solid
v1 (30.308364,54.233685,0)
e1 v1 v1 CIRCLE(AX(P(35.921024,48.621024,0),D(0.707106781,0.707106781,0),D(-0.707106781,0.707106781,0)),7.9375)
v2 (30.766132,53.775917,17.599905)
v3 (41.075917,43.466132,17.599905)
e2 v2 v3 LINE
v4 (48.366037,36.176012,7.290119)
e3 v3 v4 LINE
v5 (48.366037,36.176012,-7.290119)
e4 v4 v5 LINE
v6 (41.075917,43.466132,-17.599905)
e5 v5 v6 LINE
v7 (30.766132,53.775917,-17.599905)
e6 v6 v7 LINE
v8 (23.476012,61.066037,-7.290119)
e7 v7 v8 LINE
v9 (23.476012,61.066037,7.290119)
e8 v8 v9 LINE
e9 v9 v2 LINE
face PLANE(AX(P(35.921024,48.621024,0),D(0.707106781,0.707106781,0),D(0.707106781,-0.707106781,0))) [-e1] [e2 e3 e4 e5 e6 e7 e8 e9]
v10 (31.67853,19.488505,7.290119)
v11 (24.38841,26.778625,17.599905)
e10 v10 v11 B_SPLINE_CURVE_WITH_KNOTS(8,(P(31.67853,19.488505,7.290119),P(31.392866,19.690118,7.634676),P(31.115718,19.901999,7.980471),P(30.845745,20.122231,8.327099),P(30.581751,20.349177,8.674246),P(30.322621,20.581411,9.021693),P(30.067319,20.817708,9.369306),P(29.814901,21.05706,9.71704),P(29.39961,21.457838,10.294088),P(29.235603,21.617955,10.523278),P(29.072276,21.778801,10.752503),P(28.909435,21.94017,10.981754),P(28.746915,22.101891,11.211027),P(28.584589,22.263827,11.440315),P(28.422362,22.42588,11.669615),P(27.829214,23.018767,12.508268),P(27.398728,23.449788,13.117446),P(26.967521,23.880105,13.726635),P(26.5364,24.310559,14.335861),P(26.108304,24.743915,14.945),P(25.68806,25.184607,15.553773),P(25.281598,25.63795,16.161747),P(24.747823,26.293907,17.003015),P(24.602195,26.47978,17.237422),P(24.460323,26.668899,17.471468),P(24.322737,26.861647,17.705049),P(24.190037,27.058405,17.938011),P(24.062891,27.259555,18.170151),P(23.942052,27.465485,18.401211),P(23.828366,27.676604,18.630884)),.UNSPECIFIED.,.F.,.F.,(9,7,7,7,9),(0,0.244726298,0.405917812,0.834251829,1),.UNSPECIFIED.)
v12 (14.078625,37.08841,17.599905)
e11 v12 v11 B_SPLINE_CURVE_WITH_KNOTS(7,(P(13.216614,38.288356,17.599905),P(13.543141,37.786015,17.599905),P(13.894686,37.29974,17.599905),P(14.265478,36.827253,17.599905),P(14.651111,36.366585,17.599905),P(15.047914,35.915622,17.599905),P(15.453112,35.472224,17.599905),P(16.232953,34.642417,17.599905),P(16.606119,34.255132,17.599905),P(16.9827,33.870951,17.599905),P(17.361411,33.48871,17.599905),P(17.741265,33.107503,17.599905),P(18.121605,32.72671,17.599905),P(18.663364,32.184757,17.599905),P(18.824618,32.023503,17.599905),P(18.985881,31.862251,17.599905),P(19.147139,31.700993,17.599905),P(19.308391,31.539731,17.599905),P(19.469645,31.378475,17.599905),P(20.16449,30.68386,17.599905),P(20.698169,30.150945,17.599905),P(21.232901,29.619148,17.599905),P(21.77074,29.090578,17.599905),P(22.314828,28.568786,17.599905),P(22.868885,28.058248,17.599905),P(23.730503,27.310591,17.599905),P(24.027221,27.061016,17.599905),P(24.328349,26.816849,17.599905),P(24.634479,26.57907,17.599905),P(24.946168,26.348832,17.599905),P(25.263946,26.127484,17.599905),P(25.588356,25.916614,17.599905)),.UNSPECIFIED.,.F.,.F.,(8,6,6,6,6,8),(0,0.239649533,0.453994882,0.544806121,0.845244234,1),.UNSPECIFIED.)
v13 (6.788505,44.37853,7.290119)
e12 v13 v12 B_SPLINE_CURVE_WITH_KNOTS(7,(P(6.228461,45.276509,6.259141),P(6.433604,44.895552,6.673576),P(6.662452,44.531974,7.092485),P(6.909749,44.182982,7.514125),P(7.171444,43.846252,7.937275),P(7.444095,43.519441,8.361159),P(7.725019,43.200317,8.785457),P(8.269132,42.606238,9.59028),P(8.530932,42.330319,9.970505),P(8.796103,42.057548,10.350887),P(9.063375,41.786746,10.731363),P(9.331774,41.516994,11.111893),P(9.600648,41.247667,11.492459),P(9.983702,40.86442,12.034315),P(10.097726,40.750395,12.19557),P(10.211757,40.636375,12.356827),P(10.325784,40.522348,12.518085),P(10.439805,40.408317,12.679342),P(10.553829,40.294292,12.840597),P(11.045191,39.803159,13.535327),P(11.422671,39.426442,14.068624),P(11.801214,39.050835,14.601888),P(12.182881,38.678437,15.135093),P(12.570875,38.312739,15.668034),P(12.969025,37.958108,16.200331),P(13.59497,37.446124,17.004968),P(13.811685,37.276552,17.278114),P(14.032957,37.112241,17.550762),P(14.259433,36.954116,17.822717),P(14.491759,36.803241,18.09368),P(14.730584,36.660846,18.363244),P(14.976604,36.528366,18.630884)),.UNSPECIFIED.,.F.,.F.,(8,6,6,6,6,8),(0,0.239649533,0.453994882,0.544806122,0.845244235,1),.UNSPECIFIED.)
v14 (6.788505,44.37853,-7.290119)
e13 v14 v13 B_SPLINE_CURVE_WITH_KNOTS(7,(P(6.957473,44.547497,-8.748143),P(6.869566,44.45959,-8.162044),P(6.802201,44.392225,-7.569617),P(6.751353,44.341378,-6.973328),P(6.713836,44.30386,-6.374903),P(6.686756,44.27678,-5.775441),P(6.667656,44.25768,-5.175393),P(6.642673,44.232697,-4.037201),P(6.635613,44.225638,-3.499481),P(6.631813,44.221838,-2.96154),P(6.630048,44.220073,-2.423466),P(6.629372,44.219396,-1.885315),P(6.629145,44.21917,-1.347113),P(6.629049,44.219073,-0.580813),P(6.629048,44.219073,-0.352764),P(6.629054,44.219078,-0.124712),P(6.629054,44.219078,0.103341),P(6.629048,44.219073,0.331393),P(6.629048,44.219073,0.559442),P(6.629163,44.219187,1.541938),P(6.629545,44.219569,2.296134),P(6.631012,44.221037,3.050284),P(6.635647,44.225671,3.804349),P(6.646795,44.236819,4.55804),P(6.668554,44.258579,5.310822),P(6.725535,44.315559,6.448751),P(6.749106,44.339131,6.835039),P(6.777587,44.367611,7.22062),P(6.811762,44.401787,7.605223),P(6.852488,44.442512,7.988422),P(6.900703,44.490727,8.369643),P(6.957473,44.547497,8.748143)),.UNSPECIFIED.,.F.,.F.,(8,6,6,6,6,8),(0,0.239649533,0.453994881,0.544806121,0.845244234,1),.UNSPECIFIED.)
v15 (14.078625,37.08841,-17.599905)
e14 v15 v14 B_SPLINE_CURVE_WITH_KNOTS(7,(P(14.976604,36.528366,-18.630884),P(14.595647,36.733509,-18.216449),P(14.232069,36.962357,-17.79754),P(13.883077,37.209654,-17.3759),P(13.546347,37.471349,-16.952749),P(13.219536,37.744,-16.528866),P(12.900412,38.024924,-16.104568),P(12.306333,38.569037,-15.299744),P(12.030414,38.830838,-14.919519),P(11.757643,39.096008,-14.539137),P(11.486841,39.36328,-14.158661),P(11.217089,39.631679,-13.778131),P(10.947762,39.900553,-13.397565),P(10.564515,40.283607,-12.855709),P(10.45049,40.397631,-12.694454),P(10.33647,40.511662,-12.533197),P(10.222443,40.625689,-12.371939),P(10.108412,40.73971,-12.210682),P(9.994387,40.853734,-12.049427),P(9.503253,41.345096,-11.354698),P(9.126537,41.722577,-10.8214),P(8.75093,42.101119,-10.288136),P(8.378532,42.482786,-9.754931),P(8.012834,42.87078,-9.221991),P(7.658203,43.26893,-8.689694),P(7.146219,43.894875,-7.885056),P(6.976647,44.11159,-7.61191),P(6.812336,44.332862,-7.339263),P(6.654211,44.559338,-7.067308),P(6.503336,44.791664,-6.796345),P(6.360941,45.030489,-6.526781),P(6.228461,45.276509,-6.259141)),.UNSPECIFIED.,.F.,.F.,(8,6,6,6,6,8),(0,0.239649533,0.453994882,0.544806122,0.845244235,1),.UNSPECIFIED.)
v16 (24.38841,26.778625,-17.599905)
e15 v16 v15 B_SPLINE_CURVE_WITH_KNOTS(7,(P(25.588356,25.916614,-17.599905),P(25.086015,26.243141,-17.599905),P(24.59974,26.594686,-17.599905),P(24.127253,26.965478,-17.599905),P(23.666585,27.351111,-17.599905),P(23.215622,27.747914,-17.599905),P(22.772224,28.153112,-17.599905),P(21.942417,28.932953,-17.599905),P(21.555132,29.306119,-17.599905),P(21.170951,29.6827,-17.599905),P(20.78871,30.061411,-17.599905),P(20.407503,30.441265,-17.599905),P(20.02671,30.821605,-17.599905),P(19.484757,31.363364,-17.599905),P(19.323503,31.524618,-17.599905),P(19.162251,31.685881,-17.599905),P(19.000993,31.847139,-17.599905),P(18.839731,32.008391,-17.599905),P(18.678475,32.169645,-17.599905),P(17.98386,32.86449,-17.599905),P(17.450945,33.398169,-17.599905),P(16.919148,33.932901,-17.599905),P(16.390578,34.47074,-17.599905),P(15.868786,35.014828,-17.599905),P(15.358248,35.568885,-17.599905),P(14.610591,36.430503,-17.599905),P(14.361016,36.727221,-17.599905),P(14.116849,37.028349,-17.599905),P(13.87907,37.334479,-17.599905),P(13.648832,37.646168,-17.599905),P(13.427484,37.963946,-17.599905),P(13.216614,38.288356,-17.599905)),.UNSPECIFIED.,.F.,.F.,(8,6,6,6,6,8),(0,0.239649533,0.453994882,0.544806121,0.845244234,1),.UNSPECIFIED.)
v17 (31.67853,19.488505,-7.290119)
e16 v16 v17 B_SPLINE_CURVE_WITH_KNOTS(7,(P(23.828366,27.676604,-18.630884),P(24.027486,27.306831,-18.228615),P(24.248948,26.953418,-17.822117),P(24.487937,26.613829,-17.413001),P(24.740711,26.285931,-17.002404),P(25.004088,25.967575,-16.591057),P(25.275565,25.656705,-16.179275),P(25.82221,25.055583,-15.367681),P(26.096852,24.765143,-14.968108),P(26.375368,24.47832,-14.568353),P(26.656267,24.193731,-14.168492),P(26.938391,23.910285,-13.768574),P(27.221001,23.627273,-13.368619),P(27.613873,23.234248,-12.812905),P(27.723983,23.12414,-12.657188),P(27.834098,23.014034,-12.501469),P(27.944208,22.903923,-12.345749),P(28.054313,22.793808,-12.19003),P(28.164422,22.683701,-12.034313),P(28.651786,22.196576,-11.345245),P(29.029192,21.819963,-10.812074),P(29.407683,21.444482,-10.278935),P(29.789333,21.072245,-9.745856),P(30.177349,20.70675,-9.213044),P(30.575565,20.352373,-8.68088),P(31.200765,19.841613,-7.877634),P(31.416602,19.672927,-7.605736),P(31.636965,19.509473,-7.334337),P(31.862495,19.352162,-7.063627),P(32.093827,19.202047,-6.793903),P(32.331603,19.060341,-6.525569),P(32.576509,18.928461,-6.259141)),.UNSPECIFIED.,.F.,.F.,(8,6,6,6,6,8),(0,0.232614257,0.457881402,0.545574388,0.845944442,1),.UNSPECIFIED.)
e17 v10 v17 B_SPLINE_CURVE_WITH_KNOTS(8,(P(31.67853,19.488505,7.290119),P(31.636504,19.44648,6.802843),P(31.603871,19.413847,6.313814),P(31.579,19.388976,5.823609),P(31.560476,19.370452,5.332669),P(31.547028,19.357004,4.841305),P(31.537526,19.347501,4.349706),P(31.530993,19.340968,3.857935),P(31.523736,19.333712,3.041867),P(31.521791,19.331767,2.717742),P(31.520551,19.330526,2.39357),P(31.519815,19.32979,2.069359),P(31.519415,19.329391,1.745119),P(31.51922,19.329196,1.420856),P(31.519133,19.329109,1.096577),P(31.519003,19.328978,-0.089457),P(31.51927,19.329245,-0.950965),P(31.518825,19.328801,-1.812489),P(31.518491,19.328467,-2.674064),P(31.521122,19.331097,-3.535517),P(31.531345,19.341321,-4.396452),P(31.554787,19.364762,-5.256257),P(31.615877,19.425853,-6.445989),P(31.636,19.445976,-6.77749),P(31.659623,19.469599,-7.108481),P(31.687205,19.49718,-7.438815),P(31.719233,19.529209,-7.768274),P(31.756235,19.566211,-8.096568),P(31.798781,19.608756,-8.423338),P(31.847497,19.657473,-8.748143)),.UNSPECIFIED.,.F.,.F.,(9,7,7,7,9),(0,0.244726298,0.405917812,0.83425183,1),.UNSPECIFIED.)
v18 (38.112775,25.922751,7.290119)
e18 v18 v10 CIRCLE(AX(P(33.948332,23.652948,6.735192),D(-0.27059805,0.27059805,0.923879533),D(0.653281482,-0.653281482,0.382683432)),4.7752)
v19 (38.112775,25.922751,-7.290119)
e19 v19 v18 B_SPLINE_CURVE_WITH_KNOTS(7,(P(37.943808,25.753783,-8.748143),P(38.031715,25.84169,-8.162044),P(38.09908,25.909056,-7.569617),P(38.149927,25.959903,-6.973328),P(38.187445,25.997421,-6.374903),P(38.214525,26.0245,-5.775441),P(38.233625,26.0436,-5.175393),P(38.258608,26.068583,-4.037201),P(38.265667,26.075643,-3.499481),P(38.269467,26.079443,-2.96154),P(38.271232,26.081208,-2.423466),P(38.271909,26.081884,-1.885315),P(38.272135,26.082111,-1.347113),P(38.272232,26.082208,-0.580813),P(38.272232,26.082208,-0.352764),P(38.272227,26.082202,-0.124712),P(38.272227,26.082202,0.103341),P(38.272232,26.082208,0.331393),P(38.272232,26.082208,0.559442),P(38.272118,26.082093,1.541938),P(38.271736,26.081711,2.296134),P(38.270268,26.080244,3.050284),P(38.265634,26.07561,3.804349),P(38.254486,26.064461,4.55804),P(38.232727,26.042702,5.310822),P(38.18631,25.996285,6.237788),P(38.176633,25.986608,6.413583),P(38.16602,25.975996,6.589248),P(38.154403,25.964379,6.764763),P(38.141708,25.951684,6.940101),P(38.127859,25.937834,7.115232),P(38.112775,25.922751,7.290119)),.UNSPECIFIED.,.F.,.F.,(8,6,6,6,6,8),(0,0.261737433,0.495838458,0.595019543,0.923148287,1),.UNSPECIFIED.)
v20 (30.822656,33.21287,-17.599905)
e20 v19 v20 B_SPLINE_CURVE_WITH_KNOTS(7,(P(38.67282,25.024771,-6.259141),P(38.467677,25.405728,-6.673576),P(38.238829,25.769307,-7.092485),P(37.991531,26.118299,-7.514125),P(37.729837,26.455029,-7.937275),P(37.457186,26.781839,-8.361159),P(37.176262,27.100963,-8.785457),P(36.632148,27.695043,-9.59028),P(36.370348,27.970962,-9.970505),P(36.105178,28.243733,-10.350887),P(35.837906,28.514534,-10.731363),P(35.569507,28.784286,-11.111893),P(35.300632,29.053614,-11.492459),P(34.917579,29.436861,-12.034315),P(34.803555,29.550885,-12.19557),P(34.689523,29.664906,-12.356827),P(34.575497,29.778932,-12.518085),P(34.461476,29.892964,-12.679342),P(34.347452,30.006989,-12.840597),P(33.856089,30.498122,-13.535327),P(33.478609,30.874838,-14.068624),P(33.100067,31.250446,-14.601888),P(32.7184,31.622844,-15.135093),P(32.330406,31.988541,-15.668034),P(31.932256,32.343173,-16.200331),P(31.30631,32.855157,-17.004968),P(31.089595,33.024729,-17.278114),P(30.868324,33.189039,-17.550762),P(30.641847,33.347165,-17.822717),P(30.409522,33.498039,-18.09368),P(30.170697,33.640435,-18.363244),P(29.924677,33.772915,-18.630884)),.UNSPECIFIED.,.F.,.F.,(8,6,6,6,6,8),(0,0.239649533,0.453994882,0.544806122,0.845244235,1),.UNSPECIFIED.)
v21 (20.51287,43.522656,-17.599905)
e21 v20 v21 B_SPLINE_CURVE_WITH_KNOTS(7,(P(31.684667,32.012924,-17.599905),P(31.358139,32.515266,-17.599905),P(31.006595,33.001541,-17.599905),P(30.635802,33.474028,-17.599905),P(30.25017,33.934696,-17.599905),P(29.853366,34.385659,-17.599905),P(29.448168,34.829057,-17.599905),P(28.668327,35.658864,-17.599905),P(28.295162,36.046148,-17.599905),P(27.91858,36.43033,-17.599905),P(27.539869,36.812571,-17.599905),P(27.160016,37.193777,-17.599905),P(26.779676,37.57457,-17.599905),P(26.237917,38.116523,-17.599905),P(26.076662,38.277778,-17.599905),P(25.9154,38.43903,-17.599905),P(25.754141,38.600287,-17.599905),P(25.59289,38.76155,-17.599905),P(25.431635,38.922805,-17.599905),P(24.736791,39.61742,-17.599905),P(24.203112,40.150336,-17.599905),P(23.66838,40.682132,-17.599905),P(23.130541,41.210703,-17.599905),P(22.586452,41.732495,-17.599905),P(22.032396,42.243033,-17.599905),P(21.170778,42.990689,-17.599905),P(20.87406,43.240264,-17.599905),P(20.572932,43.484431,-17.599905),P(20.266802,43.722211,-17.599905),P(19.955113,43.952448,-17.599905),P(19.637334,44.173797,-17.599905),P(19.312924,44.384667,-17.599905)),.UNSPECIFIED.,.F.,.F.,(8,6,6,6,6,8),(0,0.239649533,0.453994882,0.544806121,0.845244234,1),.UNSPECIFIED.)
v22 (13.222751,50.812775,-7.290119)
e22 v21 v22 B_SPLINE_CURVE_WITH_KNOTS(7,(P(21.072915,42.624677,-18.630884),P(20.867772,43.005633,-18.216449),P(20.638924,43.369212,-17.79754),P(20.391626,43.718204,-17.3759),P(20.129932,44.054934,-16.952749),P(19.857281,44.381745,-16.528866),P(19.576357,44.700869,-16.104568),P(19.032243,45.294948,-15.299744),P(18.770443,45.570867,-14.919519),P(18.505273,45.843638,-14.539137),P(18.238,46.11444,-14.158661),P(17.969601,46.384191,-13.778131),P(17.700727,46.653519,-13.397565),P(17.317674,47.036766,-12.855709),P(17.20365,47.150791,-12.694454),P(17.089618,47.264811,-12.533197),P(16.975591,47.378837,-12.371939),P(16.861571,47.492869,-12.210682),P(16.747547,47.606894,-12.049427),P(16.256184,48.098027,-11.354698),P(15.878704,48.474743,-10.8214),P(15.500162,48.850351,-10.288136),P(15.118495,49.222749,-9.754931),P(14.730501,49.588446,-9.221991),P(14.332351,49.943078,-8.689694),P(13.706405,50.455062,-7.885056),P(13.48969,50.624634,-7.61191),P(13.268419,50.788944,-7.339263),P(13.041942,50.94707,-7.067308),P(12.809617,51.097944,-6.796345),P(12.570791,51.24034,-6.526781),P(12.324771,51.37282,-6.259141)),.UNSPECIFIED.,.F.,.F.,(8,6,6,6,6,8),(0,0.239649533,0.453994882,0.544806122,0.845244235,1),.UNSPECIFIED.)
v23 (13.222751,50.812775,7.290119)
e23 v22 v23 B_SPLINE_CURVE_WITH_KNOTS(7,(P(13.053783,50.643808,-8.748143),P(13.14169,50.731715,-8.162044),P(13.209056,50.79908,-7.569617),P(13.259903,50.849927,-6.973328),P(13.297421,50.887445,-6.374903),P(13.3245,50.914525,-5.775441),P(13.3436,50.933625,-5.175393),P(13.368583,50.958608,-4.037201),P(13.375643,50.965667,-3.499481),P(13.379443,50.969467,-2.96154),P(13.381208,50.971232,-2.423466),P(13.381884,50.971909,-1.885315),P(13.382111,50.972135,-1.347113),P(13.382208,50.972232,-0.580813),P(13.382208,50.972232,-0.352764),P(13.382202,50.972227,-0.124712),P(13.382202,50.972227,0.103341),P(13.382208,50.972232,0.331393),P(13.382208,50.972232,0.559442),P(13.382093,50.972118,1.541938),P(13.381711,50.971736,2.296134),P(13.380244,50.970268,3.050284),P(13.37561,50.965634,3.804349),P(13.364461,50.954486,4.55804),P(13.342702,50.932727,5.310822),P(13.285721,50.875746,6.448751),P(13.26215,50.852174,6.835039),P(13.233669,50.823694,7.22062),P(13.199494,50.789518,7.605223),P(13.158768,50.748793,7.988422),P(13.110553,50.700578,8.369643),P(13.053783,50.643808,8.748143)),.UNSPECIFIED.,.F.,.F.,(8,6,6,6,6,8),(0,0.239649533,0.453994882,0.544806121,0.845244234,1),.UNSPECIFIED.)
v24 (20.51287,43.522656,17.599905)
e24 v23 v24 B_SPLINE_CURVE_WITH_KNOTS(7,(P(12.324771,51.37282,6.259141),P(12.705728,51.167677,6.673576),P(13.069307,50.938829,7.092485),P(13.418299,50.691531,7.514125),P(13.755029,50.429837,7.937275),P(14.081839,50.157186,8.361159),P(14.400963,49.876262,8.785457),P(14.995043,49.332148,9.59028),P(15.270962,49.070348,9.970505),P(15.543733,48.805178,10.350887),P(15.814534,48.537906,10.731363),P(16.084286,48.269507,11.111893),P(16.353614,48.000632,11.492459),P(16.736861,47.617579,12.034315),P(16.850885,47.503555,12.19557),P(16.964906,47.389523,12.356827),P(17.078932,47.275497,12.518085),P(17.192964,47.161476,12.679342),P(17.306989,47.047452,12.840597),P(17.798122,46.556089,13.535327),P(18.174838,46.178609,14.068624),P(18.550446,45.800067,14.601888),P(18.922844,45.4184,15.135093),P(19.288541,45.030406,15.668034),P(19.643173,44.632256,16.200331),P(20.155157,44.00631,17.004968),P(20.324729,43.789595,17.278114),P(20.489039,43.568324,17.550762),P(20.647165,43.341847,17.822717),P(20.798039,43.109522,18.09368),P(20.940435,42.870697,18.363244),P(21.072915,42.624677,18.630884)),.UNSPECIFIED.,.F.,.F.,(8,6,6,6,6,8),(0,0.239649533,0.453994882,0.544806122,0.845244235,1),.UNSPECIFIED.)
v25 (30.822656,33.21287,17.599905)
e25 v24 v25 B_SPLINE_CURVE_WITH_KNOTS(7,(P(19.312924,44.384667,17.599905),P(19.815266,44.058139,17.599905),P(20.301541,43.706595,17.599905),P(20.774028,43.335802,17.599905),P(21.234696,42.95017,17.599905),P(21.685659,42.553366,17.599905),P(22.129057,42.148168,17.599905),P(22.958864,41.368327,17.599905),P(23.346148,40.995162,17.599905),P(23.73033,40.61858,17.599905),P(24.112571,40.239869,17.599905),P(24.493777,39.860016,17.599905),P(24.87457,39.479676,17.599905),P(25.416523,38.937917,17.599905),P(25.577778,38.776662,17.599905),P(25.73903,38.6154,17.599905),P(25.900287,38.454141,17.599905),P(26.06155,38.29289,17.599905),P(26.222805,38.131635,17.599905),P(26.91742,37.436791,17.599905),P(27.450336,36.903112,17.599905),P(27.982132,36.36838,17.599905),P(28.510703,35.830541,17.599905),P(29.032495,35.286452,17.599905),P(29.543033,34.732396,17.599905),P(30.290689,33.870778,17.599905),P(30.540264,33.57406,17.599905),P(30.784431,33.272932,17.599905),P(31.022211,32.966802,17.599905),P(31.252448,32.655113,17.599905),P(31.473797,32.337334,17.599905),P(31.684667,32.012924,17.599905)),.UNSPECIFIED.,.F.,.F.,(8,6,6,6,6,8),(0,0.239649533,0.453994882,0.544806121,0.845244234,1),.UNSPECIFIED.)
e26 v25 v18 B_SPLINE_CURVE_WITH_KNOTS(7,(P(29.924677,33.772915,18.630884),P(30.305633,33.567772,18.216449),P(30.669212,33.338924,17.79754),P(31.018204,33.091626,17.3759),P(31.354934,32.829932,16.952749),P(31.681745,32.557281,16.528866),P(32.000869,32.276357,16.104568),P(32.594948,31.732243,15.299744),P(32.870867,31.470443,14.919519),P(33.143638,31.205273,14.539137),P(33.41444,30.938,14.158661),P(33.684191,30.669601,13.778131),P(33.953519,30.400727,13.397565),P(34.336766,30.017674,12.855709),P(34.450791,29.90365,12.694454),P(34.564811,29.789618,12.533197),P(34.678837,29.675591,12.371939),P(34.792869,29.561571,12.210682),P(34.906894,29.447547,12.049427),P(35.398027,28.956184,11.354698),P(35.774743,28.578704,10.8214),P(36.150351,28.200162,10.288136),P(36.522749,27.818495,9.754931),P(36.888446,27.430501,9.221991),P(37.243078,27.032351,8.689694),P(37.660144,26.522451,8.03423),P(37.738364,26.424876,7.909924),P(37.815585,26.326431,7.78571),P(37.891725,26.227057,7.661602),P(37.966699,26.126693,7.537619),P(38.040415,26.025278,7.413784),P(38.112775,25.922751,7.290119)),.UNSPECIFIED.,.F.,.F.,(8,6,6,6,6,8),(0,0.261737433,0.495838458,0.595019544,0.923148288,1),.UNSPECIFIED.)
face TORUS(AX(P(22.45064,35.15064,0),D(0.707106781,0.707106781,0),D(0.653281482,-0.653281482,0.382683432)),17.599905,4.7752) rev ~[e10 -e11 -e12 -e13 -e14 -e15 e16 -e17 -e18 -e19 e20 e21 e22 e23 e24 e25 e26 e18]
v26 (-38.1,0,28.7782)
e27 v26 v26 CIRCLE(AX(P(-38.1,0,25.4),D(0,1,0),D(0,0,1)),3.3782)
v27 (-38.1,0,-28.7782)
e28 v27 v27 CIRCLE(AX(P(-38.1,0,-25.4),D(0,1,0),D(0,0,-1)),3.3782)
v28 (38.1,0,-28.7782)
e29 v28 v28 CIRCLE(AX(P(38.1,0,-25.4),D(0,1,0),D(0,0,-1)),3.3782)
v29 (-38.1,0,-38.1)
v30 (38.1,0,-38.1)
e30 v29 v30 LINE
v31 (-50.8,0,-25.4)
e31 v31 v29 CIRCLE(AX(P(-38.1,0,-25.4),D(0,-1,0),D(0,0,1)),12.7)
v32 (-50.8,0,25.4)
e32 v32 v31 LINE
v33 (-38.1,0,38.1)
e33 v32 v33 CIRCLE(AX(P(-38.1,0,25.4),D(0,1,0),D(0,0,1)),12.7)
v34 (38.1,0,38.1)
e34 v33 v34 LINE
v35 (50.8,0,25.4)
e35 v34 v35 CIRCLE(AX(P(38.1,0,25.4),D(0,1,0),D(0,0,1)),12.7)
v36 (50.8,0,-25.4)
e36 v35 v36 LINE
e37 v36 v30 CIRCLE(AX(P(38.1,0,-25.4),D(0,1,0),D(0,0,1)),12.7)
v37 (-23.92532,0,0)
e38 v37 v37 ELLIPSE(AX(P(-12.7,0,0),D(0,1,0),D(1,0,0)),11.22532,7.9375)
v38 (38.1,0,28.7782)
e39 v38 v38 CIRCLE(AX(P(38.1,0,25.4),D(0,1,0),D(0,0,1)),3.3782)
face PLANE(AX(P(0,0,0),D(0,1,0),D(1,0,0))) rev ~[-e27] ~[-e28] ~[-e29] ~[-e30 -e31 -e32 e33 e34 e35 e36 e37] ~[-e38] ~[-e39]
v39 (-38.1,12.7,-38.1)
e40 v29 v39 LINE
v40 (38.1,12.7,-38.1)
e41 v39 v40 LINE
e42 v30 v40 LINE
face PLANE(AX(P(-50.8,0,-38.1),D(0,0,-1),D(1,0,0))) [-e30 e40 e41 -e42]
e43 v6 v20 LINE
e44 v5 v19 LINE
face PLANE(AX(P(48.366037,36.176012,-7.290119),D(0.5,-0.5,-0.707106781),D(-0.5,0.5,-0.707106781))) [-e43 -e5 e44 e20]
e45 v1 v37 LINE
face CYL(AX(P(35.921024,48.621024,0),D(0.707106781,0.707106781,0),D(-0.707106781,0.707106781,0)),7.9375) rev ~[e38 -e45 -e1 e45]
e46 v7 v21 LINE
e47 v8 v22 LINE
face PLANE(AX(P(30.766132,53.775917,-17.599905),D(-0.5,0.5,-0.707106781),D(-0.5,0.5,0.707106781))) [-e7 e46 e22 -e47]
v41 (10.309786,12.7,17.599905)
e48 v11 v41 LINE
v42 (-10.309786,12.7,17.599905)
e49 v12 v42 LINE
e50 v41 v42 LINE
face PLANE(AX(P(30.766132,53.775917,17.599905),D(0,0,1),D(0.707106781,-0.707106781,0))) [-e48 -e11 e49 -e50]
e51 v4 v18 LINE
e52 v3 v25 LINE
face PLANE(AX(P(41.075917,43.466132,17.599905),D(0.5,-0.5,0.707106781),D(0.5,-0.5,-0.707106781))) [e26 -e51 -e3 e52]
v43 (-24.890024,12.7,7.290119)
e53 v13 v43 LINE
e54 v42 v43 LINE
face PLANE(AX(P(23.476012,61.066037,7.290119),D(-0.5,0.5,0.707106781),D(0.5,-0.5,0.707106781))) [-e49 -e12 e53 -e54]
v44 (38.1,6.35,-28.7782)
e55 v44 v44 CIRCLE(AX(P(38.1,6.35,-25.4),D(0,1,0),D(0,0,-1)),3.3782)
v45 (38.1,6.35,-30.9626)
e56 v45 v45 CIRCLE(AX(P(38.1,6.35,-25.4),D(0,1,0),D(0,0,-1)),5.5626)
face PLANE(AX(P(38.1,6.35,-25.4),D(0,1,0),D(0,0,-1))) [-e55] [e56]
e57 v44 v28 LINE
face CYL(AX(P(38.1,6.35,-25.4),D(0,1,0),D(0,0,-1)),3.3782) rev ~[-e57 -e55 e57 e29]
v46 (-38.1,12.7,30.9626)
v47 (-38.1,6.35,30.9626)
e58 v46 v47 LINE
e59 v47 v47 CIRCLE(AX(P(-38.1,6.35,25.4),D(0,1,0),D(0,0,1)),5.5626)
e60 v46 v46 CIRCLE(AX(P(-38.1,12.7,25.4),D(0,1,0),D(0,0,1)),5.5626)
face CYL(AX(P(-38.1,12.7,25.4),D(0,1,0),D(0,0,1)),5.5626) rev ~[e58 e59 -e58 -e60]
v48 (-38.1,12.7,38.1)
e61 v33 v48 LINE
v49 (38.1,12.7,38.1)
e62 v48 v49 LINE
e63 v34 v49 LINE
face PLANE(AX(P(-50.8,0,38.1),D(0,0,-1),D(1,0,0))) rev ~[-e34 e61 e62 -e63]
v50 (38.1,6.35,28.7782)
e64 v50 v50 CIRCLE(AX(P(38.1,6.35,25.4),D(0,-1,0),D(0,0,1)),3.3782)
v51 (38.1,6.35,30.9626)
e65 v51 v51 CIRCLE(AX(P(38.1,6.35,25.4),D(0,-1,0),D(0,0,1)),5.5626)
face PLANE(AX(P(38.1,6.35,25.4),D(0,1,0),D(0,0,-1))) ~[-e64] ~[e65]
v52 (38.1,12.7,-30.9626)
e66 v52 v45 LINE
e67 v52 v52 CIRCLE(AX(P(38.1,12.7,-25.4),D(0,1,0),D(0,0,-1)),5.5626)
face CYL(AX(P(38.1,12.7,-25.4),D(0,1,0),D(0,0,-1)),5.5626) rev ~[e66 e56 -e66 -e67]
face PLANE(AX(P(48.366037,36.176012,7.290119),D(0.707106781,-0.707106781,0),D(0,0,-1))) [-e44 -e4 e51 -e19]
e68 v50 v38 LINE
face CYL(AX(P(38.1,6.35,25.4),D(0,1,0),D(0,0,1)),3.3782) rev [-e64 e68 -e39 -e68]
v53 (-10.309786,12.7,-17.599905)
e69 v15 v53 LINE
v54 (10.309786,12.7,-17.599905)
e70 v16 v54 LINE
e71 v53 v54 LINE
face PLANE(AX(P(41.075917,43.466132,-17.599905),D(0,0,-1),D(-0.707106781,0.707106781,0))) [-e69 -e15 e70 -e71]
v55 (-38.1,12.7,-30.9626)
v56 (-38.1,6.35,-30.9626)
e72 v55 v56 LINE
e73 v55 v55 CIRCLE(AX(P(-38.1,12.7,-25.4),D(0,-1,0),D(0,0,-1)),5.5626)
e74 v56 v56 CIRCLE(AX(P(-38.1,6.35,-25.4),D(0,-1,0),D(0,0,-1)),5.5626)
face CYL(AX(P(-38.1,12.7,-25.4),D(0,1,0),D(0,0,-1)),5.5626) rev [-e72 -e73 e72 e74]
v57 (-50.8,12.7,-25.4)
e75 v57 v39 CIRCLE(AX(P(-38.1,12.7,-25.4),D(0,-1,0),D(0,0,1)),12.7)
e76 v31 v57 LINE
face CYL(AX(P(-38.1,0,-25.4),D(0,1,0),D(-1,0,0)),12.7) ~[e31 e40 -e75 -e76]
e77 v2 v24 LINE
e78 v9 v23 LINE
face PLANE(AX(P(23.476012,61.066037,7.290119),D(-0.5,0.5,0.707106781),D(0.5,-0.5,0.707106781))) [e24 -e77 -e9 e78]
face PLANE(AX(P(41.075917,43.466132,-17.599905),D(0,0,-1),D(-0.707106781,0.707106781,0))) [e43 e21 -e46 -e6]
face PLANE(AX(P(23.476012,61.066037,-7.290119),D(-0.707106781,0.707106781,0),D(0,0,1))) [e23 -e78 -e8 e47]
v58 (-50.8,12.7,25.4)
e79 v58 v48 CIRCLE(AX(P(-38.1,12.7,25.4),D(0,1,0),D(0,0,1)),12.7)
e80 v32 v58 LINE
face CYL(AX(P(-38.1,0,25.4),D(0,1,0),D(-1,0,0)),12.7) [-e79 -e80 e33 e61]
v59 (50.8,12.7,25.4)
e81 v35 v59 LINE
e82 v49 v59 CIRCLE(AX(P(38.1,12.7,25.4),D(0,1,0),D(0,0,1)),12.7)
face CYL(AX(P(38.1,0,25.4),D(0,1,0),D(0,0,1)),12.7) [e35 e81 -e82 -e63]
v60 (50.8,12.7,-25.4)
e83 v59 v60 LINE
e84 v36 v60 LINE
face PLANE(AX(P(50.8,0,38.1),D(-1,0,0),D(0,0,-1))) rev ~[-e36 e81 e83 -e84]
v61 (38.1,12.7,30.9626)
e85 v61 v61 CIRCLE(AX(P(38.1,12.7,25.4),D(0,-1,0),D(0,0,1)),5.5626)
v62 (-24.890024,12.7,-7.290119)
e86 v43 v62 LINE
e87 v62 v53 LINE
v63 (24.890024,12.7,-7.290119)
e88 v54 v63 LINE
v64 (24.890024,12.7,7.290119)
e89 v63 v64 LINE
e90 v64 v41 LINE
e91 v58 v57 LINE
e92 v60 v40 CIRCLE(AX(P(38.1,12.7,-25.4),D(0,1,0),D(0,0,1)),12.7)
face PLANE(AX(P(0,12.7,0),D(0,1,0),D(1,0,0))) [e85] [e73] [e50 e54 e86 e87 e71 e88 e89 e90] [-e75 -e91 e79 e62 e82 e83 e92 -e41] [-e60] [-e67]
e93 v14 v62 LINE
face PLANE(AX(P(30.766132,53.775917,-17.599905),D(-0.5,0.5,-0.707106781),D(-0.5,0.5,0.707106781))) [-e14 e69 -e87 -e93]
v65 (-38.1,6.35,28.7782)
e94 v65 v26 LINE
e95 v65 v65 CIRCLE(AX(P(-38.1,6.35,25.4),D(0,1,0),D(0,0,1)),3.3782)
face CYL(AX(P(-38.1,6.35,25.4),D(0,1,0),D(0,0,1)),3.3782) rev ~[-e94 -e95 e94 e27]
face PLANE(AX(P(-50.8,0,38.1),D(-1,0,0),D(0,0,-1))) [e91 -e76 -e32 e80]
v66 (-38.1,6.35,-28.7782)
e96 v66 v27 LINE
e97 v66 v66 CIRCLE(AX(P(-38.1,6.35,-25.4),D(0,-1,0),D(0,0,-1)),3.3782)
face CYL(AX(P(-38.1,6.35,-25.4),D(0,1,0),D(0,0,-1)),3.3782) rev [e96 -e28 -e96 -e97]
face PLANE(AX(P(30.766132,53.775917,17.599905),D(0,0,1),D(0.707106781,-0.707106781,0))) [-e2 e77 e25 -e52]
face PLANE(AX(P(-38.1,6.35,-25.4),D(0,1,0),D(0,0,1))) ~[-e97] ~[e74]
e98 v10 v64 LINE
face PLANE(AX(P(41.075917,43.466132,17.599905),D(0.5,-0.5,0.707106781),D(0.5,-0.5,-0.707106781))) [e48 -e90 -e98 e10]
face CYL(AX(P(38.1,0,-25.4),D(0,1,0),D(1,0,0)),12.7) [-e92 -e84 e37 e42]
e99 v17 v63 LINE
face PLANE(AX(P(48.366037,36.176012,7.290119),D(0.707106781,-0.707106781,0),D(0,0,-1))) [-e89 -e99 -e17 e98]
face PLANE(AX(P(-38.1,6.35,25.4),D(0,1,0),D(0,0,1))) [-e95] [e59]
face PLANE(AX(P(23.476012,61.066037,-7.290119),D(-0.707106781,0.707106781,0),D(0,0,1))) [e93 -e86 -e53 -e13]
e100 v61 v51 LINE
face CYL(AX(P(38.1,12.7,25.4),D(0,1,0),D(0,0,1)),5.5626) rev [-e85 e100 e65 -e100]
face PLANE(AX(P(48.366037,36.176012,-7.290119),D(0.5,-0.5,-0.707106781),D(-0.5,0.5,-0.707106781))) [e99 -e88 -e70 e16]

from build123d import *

# Parameters (mm, degrees)
BOTTOM_SKETCH_W                   = 101.6
BOTTOM_SKETCH_H                   = 76.2
BASE_EXTRUDE_DEPTH                = 12.7
CORNER_FILLETS_R                  = 12.7
TOP_CIRCULAR_SKETCH_R             = 5.5626
TOP_CIRCULAR_CUT_DEPTH            = 6.35
BOTTOM_CIRCULAR_SKETCH_R          = 3.3782
BOTTOM_CIRCULAR_CUT_DEPTH         = 64.816710194
HORIZONTAL_MIRROR_COPY_1_SKETCH_R = 5.5626
HORIZONTAL_MIRROR_COPY_1_DEPTH    = 6.35
HORIZONTAL_MIRROR_COPY_2_SKETCH_R = 3.3782
HORIZONTAL_MIRROR_COPY_2_DEPTH    = 64.816710194
OCTAGONAL_EXTRUDE_REACH           = 108.471
CENTER_SKETCH_R                   = 7.9375
CENTER_CUT_DEPTH                  = 110.090169628
RADIUS_SKETCH_R                   = 4.7752


with BuildPart() as part:
    # Bottom Sketch → Base Extrude (new body)
    with BuildSketch(Plane(origin=(0, 0, 0), x_dir=(1, 0, 0), z_dir=(0, 1, 0))):
        Rectangle(BOTTOM_SKETCH_W, BOTTOM_SKETCH_H)
    extrude(amount=BASE_EXTRUDE_DEPTH)

    # Corner Fillets
    corner_fillets_edges = [part.edges().sort_by_distance(p)[0] for p in [
        (-50.8, 6.35, -38.1),
        (50.8, 6.35, -38.1),
        (50.8, 6.35, 38.1),
        (-50.8, 6.35, 38.1),
    ]]
    fillet(corner_fillets_edges, radius=CORNER_FILLETS_R)

    # Top Circular Sketch → Top Circular Cut (cut)
    with BuildSketch(Plane(origin=(0, 12.7, 0), x_dir=(1, 0, 0), z_dir=(0, 1, 0))):
        with Locations(Location((-38.1, -25.4, 0), (0, 0, 270))):
            Circle(TOP_CIRCULAR_SKETCH_R)
    top_circular_cut = extrude(amount=-TOP_CIRCULAR_CUT_DEPTH, mode=Mode.SUBTRACT)

    # Bottom Circular Sketch → Bottom Circular Cut (cut, through all)
    with BuildSketch(Plane(origin=(0, 6.35, 0), x_dir=(1, 0, 0), z_dir=(0, 1, 0))):
        with Locations(Location((-38.1, -25.4, 0), (0, 0, 270))):
            Circle(BOTTOM_CIRCULAR_SKETCH_R)
    bottom_circular_cut = extrude(amount=-BOTTOM_CIRCULAR_CUT_DEPTH, mode=Mode.SUBTRACT)

    # Vertical Mirror: Top Circular Cut, Bottom Circular Cut across plane
    add(top_circular_cut.mirror(Plane.XY), mode=Mode.SUBTRACT)
    add(bottom_circular_cut.mirror(Plane.XY), mode=Mode.SUBTRACT)

    # Horizontal Mirror: Top Circular Cut, Bottom Circular Cut across plane
    add(top_circular_cut.mirror(Plane(origin=(0, 0, 0), x_dir=(0, 0, 1), z_dir=(1, 0, 0))), mode=Mode.SUBTRACT)
    add(bottom_circular_cut.mirror(Plane(origin=(0, 0, 0), x_dir=(0, 0, 1), z_dir=(1, 0, 0))), mode=Mode.SUBTRACT)

    # Horizontal Mirror copy 1 sketch → Horizontal Mirror copy 1 (cut)
    with BuildSketch(Plane(origin=(0, 12.7, 0), x_dir=(-1, 0, 0), z_dir=(0, 1, 0))):
        with Locations(Location((-38.1, -25.4, 0), (0, 0, 270))):
            Circle(HORIZONTAL_MIRROR_COPY_1_SKETCH_R)
    extrude(amount=-HORIZONTAL_MIRROR_COPY_1_DEPTH, mode=Mode.SUBTRACT)

    # Horizontal Mirror copy 2 sketch → Horizontal Mirror copy 2 (cut, through all)
    with BuildSketch(Plane(origin=(0, 6.35, 0), x_dir=(-1, 0, 0), z_dir=(0, 1, 0))):
        with Locations(Location((-38.1, -25.4, 0), (0, 0, 270))):
            Circle(HORIZONTAL_MIRROR_COPY_2_SKETCH_R)
    extrude(amount=-HORIZONTAL_MIRROR_COPY_2_DEPTH, mode=Mode.SUBTRACT)

    # Octagonal Extrude: up to this plane
    octagonal_extrude_end = Plane(origin=(0, 12.7, 0), z_dir=(0, 1, 0))
    # Octagonal Sketch → Octagonal Extrude (add, up to the surface)
    with BuildSketch(Plane(origin=(35.921024484, 48.621024484, 0), x_dir=(0.7071067811865488, -0.7071067811865462, 0), z_dir=(0.7071067811865462, 0.7071067811865488, 0)), mode=Mode.PRIVATE) as octagonal_extrude_sk1:
        Polygon((-7.290119387, 17.599905094), (-17.599905094, 7.290119387), (-17.599905094, -7.290119387), (-7.290119387, -17.599905094), (7.290119387, -17.599905094), (17.599905094, -7.290119387), (17.599905094, 7.290119387), (7.290119387, 17.599905094), align=None)
    octagonal_extrude_tool1 = split(extrude(octagonal_extrude_sk1.sketch, amount=-OCTAGONAL_EXTRUDE_REACH, mode=Mode.PRIVATE), bisect_by=octagonal_extrude_end, keep=Keep.BOTH, mode=Mode.PRIVATE)
    add(octagonal_extrude_tool1.solids().sort_by_distance((35.921024, 48.621024, 0))[0])

    # Center Sketch → Center Cut (cut, through all)
    with BuildSketch(Plane(origin=(42.271024484, 42.271024484, 0), x_dir=(0, 0, -1), z_dir=(0.7071067811865465, 0.7071067811865487, 0))):
        with Locations(Location((0, 8.980256121, 0), (0, 0, 90))):
            Circle(CENTER_SKETCH_R)
    extrude(amount=-CENTER_CUT_DEPTH, mode=Mode.SUBTRACT)

    # Radius Sketch → Radial Cut (revolve, cut)
    with BuildSketch(Plane(origin=(-6.35, 6.35, 0), x_dir=(0, 0, 1), z_dir=(-0.7071067811865478, 0.7071067811865472, 0)), mode=Mode.PRIVATE) as radial_cut_sk:
        with Locations((17.599905094, 40.730256121)):
            Circle(RADIUS_SKETCH_R)
    revolve(radial_cut_sk.sketch.rotate(Axis((0, 12.7, 0), (0.7071067811865462, 0.7071067811865488, 0)), 67.500000005), axis=Axis((0, 12.7, 0), (0.7071067811865462, 0.7071067811865488, 0)), mode=Mode.SUBTRACT)


solid = part.part
